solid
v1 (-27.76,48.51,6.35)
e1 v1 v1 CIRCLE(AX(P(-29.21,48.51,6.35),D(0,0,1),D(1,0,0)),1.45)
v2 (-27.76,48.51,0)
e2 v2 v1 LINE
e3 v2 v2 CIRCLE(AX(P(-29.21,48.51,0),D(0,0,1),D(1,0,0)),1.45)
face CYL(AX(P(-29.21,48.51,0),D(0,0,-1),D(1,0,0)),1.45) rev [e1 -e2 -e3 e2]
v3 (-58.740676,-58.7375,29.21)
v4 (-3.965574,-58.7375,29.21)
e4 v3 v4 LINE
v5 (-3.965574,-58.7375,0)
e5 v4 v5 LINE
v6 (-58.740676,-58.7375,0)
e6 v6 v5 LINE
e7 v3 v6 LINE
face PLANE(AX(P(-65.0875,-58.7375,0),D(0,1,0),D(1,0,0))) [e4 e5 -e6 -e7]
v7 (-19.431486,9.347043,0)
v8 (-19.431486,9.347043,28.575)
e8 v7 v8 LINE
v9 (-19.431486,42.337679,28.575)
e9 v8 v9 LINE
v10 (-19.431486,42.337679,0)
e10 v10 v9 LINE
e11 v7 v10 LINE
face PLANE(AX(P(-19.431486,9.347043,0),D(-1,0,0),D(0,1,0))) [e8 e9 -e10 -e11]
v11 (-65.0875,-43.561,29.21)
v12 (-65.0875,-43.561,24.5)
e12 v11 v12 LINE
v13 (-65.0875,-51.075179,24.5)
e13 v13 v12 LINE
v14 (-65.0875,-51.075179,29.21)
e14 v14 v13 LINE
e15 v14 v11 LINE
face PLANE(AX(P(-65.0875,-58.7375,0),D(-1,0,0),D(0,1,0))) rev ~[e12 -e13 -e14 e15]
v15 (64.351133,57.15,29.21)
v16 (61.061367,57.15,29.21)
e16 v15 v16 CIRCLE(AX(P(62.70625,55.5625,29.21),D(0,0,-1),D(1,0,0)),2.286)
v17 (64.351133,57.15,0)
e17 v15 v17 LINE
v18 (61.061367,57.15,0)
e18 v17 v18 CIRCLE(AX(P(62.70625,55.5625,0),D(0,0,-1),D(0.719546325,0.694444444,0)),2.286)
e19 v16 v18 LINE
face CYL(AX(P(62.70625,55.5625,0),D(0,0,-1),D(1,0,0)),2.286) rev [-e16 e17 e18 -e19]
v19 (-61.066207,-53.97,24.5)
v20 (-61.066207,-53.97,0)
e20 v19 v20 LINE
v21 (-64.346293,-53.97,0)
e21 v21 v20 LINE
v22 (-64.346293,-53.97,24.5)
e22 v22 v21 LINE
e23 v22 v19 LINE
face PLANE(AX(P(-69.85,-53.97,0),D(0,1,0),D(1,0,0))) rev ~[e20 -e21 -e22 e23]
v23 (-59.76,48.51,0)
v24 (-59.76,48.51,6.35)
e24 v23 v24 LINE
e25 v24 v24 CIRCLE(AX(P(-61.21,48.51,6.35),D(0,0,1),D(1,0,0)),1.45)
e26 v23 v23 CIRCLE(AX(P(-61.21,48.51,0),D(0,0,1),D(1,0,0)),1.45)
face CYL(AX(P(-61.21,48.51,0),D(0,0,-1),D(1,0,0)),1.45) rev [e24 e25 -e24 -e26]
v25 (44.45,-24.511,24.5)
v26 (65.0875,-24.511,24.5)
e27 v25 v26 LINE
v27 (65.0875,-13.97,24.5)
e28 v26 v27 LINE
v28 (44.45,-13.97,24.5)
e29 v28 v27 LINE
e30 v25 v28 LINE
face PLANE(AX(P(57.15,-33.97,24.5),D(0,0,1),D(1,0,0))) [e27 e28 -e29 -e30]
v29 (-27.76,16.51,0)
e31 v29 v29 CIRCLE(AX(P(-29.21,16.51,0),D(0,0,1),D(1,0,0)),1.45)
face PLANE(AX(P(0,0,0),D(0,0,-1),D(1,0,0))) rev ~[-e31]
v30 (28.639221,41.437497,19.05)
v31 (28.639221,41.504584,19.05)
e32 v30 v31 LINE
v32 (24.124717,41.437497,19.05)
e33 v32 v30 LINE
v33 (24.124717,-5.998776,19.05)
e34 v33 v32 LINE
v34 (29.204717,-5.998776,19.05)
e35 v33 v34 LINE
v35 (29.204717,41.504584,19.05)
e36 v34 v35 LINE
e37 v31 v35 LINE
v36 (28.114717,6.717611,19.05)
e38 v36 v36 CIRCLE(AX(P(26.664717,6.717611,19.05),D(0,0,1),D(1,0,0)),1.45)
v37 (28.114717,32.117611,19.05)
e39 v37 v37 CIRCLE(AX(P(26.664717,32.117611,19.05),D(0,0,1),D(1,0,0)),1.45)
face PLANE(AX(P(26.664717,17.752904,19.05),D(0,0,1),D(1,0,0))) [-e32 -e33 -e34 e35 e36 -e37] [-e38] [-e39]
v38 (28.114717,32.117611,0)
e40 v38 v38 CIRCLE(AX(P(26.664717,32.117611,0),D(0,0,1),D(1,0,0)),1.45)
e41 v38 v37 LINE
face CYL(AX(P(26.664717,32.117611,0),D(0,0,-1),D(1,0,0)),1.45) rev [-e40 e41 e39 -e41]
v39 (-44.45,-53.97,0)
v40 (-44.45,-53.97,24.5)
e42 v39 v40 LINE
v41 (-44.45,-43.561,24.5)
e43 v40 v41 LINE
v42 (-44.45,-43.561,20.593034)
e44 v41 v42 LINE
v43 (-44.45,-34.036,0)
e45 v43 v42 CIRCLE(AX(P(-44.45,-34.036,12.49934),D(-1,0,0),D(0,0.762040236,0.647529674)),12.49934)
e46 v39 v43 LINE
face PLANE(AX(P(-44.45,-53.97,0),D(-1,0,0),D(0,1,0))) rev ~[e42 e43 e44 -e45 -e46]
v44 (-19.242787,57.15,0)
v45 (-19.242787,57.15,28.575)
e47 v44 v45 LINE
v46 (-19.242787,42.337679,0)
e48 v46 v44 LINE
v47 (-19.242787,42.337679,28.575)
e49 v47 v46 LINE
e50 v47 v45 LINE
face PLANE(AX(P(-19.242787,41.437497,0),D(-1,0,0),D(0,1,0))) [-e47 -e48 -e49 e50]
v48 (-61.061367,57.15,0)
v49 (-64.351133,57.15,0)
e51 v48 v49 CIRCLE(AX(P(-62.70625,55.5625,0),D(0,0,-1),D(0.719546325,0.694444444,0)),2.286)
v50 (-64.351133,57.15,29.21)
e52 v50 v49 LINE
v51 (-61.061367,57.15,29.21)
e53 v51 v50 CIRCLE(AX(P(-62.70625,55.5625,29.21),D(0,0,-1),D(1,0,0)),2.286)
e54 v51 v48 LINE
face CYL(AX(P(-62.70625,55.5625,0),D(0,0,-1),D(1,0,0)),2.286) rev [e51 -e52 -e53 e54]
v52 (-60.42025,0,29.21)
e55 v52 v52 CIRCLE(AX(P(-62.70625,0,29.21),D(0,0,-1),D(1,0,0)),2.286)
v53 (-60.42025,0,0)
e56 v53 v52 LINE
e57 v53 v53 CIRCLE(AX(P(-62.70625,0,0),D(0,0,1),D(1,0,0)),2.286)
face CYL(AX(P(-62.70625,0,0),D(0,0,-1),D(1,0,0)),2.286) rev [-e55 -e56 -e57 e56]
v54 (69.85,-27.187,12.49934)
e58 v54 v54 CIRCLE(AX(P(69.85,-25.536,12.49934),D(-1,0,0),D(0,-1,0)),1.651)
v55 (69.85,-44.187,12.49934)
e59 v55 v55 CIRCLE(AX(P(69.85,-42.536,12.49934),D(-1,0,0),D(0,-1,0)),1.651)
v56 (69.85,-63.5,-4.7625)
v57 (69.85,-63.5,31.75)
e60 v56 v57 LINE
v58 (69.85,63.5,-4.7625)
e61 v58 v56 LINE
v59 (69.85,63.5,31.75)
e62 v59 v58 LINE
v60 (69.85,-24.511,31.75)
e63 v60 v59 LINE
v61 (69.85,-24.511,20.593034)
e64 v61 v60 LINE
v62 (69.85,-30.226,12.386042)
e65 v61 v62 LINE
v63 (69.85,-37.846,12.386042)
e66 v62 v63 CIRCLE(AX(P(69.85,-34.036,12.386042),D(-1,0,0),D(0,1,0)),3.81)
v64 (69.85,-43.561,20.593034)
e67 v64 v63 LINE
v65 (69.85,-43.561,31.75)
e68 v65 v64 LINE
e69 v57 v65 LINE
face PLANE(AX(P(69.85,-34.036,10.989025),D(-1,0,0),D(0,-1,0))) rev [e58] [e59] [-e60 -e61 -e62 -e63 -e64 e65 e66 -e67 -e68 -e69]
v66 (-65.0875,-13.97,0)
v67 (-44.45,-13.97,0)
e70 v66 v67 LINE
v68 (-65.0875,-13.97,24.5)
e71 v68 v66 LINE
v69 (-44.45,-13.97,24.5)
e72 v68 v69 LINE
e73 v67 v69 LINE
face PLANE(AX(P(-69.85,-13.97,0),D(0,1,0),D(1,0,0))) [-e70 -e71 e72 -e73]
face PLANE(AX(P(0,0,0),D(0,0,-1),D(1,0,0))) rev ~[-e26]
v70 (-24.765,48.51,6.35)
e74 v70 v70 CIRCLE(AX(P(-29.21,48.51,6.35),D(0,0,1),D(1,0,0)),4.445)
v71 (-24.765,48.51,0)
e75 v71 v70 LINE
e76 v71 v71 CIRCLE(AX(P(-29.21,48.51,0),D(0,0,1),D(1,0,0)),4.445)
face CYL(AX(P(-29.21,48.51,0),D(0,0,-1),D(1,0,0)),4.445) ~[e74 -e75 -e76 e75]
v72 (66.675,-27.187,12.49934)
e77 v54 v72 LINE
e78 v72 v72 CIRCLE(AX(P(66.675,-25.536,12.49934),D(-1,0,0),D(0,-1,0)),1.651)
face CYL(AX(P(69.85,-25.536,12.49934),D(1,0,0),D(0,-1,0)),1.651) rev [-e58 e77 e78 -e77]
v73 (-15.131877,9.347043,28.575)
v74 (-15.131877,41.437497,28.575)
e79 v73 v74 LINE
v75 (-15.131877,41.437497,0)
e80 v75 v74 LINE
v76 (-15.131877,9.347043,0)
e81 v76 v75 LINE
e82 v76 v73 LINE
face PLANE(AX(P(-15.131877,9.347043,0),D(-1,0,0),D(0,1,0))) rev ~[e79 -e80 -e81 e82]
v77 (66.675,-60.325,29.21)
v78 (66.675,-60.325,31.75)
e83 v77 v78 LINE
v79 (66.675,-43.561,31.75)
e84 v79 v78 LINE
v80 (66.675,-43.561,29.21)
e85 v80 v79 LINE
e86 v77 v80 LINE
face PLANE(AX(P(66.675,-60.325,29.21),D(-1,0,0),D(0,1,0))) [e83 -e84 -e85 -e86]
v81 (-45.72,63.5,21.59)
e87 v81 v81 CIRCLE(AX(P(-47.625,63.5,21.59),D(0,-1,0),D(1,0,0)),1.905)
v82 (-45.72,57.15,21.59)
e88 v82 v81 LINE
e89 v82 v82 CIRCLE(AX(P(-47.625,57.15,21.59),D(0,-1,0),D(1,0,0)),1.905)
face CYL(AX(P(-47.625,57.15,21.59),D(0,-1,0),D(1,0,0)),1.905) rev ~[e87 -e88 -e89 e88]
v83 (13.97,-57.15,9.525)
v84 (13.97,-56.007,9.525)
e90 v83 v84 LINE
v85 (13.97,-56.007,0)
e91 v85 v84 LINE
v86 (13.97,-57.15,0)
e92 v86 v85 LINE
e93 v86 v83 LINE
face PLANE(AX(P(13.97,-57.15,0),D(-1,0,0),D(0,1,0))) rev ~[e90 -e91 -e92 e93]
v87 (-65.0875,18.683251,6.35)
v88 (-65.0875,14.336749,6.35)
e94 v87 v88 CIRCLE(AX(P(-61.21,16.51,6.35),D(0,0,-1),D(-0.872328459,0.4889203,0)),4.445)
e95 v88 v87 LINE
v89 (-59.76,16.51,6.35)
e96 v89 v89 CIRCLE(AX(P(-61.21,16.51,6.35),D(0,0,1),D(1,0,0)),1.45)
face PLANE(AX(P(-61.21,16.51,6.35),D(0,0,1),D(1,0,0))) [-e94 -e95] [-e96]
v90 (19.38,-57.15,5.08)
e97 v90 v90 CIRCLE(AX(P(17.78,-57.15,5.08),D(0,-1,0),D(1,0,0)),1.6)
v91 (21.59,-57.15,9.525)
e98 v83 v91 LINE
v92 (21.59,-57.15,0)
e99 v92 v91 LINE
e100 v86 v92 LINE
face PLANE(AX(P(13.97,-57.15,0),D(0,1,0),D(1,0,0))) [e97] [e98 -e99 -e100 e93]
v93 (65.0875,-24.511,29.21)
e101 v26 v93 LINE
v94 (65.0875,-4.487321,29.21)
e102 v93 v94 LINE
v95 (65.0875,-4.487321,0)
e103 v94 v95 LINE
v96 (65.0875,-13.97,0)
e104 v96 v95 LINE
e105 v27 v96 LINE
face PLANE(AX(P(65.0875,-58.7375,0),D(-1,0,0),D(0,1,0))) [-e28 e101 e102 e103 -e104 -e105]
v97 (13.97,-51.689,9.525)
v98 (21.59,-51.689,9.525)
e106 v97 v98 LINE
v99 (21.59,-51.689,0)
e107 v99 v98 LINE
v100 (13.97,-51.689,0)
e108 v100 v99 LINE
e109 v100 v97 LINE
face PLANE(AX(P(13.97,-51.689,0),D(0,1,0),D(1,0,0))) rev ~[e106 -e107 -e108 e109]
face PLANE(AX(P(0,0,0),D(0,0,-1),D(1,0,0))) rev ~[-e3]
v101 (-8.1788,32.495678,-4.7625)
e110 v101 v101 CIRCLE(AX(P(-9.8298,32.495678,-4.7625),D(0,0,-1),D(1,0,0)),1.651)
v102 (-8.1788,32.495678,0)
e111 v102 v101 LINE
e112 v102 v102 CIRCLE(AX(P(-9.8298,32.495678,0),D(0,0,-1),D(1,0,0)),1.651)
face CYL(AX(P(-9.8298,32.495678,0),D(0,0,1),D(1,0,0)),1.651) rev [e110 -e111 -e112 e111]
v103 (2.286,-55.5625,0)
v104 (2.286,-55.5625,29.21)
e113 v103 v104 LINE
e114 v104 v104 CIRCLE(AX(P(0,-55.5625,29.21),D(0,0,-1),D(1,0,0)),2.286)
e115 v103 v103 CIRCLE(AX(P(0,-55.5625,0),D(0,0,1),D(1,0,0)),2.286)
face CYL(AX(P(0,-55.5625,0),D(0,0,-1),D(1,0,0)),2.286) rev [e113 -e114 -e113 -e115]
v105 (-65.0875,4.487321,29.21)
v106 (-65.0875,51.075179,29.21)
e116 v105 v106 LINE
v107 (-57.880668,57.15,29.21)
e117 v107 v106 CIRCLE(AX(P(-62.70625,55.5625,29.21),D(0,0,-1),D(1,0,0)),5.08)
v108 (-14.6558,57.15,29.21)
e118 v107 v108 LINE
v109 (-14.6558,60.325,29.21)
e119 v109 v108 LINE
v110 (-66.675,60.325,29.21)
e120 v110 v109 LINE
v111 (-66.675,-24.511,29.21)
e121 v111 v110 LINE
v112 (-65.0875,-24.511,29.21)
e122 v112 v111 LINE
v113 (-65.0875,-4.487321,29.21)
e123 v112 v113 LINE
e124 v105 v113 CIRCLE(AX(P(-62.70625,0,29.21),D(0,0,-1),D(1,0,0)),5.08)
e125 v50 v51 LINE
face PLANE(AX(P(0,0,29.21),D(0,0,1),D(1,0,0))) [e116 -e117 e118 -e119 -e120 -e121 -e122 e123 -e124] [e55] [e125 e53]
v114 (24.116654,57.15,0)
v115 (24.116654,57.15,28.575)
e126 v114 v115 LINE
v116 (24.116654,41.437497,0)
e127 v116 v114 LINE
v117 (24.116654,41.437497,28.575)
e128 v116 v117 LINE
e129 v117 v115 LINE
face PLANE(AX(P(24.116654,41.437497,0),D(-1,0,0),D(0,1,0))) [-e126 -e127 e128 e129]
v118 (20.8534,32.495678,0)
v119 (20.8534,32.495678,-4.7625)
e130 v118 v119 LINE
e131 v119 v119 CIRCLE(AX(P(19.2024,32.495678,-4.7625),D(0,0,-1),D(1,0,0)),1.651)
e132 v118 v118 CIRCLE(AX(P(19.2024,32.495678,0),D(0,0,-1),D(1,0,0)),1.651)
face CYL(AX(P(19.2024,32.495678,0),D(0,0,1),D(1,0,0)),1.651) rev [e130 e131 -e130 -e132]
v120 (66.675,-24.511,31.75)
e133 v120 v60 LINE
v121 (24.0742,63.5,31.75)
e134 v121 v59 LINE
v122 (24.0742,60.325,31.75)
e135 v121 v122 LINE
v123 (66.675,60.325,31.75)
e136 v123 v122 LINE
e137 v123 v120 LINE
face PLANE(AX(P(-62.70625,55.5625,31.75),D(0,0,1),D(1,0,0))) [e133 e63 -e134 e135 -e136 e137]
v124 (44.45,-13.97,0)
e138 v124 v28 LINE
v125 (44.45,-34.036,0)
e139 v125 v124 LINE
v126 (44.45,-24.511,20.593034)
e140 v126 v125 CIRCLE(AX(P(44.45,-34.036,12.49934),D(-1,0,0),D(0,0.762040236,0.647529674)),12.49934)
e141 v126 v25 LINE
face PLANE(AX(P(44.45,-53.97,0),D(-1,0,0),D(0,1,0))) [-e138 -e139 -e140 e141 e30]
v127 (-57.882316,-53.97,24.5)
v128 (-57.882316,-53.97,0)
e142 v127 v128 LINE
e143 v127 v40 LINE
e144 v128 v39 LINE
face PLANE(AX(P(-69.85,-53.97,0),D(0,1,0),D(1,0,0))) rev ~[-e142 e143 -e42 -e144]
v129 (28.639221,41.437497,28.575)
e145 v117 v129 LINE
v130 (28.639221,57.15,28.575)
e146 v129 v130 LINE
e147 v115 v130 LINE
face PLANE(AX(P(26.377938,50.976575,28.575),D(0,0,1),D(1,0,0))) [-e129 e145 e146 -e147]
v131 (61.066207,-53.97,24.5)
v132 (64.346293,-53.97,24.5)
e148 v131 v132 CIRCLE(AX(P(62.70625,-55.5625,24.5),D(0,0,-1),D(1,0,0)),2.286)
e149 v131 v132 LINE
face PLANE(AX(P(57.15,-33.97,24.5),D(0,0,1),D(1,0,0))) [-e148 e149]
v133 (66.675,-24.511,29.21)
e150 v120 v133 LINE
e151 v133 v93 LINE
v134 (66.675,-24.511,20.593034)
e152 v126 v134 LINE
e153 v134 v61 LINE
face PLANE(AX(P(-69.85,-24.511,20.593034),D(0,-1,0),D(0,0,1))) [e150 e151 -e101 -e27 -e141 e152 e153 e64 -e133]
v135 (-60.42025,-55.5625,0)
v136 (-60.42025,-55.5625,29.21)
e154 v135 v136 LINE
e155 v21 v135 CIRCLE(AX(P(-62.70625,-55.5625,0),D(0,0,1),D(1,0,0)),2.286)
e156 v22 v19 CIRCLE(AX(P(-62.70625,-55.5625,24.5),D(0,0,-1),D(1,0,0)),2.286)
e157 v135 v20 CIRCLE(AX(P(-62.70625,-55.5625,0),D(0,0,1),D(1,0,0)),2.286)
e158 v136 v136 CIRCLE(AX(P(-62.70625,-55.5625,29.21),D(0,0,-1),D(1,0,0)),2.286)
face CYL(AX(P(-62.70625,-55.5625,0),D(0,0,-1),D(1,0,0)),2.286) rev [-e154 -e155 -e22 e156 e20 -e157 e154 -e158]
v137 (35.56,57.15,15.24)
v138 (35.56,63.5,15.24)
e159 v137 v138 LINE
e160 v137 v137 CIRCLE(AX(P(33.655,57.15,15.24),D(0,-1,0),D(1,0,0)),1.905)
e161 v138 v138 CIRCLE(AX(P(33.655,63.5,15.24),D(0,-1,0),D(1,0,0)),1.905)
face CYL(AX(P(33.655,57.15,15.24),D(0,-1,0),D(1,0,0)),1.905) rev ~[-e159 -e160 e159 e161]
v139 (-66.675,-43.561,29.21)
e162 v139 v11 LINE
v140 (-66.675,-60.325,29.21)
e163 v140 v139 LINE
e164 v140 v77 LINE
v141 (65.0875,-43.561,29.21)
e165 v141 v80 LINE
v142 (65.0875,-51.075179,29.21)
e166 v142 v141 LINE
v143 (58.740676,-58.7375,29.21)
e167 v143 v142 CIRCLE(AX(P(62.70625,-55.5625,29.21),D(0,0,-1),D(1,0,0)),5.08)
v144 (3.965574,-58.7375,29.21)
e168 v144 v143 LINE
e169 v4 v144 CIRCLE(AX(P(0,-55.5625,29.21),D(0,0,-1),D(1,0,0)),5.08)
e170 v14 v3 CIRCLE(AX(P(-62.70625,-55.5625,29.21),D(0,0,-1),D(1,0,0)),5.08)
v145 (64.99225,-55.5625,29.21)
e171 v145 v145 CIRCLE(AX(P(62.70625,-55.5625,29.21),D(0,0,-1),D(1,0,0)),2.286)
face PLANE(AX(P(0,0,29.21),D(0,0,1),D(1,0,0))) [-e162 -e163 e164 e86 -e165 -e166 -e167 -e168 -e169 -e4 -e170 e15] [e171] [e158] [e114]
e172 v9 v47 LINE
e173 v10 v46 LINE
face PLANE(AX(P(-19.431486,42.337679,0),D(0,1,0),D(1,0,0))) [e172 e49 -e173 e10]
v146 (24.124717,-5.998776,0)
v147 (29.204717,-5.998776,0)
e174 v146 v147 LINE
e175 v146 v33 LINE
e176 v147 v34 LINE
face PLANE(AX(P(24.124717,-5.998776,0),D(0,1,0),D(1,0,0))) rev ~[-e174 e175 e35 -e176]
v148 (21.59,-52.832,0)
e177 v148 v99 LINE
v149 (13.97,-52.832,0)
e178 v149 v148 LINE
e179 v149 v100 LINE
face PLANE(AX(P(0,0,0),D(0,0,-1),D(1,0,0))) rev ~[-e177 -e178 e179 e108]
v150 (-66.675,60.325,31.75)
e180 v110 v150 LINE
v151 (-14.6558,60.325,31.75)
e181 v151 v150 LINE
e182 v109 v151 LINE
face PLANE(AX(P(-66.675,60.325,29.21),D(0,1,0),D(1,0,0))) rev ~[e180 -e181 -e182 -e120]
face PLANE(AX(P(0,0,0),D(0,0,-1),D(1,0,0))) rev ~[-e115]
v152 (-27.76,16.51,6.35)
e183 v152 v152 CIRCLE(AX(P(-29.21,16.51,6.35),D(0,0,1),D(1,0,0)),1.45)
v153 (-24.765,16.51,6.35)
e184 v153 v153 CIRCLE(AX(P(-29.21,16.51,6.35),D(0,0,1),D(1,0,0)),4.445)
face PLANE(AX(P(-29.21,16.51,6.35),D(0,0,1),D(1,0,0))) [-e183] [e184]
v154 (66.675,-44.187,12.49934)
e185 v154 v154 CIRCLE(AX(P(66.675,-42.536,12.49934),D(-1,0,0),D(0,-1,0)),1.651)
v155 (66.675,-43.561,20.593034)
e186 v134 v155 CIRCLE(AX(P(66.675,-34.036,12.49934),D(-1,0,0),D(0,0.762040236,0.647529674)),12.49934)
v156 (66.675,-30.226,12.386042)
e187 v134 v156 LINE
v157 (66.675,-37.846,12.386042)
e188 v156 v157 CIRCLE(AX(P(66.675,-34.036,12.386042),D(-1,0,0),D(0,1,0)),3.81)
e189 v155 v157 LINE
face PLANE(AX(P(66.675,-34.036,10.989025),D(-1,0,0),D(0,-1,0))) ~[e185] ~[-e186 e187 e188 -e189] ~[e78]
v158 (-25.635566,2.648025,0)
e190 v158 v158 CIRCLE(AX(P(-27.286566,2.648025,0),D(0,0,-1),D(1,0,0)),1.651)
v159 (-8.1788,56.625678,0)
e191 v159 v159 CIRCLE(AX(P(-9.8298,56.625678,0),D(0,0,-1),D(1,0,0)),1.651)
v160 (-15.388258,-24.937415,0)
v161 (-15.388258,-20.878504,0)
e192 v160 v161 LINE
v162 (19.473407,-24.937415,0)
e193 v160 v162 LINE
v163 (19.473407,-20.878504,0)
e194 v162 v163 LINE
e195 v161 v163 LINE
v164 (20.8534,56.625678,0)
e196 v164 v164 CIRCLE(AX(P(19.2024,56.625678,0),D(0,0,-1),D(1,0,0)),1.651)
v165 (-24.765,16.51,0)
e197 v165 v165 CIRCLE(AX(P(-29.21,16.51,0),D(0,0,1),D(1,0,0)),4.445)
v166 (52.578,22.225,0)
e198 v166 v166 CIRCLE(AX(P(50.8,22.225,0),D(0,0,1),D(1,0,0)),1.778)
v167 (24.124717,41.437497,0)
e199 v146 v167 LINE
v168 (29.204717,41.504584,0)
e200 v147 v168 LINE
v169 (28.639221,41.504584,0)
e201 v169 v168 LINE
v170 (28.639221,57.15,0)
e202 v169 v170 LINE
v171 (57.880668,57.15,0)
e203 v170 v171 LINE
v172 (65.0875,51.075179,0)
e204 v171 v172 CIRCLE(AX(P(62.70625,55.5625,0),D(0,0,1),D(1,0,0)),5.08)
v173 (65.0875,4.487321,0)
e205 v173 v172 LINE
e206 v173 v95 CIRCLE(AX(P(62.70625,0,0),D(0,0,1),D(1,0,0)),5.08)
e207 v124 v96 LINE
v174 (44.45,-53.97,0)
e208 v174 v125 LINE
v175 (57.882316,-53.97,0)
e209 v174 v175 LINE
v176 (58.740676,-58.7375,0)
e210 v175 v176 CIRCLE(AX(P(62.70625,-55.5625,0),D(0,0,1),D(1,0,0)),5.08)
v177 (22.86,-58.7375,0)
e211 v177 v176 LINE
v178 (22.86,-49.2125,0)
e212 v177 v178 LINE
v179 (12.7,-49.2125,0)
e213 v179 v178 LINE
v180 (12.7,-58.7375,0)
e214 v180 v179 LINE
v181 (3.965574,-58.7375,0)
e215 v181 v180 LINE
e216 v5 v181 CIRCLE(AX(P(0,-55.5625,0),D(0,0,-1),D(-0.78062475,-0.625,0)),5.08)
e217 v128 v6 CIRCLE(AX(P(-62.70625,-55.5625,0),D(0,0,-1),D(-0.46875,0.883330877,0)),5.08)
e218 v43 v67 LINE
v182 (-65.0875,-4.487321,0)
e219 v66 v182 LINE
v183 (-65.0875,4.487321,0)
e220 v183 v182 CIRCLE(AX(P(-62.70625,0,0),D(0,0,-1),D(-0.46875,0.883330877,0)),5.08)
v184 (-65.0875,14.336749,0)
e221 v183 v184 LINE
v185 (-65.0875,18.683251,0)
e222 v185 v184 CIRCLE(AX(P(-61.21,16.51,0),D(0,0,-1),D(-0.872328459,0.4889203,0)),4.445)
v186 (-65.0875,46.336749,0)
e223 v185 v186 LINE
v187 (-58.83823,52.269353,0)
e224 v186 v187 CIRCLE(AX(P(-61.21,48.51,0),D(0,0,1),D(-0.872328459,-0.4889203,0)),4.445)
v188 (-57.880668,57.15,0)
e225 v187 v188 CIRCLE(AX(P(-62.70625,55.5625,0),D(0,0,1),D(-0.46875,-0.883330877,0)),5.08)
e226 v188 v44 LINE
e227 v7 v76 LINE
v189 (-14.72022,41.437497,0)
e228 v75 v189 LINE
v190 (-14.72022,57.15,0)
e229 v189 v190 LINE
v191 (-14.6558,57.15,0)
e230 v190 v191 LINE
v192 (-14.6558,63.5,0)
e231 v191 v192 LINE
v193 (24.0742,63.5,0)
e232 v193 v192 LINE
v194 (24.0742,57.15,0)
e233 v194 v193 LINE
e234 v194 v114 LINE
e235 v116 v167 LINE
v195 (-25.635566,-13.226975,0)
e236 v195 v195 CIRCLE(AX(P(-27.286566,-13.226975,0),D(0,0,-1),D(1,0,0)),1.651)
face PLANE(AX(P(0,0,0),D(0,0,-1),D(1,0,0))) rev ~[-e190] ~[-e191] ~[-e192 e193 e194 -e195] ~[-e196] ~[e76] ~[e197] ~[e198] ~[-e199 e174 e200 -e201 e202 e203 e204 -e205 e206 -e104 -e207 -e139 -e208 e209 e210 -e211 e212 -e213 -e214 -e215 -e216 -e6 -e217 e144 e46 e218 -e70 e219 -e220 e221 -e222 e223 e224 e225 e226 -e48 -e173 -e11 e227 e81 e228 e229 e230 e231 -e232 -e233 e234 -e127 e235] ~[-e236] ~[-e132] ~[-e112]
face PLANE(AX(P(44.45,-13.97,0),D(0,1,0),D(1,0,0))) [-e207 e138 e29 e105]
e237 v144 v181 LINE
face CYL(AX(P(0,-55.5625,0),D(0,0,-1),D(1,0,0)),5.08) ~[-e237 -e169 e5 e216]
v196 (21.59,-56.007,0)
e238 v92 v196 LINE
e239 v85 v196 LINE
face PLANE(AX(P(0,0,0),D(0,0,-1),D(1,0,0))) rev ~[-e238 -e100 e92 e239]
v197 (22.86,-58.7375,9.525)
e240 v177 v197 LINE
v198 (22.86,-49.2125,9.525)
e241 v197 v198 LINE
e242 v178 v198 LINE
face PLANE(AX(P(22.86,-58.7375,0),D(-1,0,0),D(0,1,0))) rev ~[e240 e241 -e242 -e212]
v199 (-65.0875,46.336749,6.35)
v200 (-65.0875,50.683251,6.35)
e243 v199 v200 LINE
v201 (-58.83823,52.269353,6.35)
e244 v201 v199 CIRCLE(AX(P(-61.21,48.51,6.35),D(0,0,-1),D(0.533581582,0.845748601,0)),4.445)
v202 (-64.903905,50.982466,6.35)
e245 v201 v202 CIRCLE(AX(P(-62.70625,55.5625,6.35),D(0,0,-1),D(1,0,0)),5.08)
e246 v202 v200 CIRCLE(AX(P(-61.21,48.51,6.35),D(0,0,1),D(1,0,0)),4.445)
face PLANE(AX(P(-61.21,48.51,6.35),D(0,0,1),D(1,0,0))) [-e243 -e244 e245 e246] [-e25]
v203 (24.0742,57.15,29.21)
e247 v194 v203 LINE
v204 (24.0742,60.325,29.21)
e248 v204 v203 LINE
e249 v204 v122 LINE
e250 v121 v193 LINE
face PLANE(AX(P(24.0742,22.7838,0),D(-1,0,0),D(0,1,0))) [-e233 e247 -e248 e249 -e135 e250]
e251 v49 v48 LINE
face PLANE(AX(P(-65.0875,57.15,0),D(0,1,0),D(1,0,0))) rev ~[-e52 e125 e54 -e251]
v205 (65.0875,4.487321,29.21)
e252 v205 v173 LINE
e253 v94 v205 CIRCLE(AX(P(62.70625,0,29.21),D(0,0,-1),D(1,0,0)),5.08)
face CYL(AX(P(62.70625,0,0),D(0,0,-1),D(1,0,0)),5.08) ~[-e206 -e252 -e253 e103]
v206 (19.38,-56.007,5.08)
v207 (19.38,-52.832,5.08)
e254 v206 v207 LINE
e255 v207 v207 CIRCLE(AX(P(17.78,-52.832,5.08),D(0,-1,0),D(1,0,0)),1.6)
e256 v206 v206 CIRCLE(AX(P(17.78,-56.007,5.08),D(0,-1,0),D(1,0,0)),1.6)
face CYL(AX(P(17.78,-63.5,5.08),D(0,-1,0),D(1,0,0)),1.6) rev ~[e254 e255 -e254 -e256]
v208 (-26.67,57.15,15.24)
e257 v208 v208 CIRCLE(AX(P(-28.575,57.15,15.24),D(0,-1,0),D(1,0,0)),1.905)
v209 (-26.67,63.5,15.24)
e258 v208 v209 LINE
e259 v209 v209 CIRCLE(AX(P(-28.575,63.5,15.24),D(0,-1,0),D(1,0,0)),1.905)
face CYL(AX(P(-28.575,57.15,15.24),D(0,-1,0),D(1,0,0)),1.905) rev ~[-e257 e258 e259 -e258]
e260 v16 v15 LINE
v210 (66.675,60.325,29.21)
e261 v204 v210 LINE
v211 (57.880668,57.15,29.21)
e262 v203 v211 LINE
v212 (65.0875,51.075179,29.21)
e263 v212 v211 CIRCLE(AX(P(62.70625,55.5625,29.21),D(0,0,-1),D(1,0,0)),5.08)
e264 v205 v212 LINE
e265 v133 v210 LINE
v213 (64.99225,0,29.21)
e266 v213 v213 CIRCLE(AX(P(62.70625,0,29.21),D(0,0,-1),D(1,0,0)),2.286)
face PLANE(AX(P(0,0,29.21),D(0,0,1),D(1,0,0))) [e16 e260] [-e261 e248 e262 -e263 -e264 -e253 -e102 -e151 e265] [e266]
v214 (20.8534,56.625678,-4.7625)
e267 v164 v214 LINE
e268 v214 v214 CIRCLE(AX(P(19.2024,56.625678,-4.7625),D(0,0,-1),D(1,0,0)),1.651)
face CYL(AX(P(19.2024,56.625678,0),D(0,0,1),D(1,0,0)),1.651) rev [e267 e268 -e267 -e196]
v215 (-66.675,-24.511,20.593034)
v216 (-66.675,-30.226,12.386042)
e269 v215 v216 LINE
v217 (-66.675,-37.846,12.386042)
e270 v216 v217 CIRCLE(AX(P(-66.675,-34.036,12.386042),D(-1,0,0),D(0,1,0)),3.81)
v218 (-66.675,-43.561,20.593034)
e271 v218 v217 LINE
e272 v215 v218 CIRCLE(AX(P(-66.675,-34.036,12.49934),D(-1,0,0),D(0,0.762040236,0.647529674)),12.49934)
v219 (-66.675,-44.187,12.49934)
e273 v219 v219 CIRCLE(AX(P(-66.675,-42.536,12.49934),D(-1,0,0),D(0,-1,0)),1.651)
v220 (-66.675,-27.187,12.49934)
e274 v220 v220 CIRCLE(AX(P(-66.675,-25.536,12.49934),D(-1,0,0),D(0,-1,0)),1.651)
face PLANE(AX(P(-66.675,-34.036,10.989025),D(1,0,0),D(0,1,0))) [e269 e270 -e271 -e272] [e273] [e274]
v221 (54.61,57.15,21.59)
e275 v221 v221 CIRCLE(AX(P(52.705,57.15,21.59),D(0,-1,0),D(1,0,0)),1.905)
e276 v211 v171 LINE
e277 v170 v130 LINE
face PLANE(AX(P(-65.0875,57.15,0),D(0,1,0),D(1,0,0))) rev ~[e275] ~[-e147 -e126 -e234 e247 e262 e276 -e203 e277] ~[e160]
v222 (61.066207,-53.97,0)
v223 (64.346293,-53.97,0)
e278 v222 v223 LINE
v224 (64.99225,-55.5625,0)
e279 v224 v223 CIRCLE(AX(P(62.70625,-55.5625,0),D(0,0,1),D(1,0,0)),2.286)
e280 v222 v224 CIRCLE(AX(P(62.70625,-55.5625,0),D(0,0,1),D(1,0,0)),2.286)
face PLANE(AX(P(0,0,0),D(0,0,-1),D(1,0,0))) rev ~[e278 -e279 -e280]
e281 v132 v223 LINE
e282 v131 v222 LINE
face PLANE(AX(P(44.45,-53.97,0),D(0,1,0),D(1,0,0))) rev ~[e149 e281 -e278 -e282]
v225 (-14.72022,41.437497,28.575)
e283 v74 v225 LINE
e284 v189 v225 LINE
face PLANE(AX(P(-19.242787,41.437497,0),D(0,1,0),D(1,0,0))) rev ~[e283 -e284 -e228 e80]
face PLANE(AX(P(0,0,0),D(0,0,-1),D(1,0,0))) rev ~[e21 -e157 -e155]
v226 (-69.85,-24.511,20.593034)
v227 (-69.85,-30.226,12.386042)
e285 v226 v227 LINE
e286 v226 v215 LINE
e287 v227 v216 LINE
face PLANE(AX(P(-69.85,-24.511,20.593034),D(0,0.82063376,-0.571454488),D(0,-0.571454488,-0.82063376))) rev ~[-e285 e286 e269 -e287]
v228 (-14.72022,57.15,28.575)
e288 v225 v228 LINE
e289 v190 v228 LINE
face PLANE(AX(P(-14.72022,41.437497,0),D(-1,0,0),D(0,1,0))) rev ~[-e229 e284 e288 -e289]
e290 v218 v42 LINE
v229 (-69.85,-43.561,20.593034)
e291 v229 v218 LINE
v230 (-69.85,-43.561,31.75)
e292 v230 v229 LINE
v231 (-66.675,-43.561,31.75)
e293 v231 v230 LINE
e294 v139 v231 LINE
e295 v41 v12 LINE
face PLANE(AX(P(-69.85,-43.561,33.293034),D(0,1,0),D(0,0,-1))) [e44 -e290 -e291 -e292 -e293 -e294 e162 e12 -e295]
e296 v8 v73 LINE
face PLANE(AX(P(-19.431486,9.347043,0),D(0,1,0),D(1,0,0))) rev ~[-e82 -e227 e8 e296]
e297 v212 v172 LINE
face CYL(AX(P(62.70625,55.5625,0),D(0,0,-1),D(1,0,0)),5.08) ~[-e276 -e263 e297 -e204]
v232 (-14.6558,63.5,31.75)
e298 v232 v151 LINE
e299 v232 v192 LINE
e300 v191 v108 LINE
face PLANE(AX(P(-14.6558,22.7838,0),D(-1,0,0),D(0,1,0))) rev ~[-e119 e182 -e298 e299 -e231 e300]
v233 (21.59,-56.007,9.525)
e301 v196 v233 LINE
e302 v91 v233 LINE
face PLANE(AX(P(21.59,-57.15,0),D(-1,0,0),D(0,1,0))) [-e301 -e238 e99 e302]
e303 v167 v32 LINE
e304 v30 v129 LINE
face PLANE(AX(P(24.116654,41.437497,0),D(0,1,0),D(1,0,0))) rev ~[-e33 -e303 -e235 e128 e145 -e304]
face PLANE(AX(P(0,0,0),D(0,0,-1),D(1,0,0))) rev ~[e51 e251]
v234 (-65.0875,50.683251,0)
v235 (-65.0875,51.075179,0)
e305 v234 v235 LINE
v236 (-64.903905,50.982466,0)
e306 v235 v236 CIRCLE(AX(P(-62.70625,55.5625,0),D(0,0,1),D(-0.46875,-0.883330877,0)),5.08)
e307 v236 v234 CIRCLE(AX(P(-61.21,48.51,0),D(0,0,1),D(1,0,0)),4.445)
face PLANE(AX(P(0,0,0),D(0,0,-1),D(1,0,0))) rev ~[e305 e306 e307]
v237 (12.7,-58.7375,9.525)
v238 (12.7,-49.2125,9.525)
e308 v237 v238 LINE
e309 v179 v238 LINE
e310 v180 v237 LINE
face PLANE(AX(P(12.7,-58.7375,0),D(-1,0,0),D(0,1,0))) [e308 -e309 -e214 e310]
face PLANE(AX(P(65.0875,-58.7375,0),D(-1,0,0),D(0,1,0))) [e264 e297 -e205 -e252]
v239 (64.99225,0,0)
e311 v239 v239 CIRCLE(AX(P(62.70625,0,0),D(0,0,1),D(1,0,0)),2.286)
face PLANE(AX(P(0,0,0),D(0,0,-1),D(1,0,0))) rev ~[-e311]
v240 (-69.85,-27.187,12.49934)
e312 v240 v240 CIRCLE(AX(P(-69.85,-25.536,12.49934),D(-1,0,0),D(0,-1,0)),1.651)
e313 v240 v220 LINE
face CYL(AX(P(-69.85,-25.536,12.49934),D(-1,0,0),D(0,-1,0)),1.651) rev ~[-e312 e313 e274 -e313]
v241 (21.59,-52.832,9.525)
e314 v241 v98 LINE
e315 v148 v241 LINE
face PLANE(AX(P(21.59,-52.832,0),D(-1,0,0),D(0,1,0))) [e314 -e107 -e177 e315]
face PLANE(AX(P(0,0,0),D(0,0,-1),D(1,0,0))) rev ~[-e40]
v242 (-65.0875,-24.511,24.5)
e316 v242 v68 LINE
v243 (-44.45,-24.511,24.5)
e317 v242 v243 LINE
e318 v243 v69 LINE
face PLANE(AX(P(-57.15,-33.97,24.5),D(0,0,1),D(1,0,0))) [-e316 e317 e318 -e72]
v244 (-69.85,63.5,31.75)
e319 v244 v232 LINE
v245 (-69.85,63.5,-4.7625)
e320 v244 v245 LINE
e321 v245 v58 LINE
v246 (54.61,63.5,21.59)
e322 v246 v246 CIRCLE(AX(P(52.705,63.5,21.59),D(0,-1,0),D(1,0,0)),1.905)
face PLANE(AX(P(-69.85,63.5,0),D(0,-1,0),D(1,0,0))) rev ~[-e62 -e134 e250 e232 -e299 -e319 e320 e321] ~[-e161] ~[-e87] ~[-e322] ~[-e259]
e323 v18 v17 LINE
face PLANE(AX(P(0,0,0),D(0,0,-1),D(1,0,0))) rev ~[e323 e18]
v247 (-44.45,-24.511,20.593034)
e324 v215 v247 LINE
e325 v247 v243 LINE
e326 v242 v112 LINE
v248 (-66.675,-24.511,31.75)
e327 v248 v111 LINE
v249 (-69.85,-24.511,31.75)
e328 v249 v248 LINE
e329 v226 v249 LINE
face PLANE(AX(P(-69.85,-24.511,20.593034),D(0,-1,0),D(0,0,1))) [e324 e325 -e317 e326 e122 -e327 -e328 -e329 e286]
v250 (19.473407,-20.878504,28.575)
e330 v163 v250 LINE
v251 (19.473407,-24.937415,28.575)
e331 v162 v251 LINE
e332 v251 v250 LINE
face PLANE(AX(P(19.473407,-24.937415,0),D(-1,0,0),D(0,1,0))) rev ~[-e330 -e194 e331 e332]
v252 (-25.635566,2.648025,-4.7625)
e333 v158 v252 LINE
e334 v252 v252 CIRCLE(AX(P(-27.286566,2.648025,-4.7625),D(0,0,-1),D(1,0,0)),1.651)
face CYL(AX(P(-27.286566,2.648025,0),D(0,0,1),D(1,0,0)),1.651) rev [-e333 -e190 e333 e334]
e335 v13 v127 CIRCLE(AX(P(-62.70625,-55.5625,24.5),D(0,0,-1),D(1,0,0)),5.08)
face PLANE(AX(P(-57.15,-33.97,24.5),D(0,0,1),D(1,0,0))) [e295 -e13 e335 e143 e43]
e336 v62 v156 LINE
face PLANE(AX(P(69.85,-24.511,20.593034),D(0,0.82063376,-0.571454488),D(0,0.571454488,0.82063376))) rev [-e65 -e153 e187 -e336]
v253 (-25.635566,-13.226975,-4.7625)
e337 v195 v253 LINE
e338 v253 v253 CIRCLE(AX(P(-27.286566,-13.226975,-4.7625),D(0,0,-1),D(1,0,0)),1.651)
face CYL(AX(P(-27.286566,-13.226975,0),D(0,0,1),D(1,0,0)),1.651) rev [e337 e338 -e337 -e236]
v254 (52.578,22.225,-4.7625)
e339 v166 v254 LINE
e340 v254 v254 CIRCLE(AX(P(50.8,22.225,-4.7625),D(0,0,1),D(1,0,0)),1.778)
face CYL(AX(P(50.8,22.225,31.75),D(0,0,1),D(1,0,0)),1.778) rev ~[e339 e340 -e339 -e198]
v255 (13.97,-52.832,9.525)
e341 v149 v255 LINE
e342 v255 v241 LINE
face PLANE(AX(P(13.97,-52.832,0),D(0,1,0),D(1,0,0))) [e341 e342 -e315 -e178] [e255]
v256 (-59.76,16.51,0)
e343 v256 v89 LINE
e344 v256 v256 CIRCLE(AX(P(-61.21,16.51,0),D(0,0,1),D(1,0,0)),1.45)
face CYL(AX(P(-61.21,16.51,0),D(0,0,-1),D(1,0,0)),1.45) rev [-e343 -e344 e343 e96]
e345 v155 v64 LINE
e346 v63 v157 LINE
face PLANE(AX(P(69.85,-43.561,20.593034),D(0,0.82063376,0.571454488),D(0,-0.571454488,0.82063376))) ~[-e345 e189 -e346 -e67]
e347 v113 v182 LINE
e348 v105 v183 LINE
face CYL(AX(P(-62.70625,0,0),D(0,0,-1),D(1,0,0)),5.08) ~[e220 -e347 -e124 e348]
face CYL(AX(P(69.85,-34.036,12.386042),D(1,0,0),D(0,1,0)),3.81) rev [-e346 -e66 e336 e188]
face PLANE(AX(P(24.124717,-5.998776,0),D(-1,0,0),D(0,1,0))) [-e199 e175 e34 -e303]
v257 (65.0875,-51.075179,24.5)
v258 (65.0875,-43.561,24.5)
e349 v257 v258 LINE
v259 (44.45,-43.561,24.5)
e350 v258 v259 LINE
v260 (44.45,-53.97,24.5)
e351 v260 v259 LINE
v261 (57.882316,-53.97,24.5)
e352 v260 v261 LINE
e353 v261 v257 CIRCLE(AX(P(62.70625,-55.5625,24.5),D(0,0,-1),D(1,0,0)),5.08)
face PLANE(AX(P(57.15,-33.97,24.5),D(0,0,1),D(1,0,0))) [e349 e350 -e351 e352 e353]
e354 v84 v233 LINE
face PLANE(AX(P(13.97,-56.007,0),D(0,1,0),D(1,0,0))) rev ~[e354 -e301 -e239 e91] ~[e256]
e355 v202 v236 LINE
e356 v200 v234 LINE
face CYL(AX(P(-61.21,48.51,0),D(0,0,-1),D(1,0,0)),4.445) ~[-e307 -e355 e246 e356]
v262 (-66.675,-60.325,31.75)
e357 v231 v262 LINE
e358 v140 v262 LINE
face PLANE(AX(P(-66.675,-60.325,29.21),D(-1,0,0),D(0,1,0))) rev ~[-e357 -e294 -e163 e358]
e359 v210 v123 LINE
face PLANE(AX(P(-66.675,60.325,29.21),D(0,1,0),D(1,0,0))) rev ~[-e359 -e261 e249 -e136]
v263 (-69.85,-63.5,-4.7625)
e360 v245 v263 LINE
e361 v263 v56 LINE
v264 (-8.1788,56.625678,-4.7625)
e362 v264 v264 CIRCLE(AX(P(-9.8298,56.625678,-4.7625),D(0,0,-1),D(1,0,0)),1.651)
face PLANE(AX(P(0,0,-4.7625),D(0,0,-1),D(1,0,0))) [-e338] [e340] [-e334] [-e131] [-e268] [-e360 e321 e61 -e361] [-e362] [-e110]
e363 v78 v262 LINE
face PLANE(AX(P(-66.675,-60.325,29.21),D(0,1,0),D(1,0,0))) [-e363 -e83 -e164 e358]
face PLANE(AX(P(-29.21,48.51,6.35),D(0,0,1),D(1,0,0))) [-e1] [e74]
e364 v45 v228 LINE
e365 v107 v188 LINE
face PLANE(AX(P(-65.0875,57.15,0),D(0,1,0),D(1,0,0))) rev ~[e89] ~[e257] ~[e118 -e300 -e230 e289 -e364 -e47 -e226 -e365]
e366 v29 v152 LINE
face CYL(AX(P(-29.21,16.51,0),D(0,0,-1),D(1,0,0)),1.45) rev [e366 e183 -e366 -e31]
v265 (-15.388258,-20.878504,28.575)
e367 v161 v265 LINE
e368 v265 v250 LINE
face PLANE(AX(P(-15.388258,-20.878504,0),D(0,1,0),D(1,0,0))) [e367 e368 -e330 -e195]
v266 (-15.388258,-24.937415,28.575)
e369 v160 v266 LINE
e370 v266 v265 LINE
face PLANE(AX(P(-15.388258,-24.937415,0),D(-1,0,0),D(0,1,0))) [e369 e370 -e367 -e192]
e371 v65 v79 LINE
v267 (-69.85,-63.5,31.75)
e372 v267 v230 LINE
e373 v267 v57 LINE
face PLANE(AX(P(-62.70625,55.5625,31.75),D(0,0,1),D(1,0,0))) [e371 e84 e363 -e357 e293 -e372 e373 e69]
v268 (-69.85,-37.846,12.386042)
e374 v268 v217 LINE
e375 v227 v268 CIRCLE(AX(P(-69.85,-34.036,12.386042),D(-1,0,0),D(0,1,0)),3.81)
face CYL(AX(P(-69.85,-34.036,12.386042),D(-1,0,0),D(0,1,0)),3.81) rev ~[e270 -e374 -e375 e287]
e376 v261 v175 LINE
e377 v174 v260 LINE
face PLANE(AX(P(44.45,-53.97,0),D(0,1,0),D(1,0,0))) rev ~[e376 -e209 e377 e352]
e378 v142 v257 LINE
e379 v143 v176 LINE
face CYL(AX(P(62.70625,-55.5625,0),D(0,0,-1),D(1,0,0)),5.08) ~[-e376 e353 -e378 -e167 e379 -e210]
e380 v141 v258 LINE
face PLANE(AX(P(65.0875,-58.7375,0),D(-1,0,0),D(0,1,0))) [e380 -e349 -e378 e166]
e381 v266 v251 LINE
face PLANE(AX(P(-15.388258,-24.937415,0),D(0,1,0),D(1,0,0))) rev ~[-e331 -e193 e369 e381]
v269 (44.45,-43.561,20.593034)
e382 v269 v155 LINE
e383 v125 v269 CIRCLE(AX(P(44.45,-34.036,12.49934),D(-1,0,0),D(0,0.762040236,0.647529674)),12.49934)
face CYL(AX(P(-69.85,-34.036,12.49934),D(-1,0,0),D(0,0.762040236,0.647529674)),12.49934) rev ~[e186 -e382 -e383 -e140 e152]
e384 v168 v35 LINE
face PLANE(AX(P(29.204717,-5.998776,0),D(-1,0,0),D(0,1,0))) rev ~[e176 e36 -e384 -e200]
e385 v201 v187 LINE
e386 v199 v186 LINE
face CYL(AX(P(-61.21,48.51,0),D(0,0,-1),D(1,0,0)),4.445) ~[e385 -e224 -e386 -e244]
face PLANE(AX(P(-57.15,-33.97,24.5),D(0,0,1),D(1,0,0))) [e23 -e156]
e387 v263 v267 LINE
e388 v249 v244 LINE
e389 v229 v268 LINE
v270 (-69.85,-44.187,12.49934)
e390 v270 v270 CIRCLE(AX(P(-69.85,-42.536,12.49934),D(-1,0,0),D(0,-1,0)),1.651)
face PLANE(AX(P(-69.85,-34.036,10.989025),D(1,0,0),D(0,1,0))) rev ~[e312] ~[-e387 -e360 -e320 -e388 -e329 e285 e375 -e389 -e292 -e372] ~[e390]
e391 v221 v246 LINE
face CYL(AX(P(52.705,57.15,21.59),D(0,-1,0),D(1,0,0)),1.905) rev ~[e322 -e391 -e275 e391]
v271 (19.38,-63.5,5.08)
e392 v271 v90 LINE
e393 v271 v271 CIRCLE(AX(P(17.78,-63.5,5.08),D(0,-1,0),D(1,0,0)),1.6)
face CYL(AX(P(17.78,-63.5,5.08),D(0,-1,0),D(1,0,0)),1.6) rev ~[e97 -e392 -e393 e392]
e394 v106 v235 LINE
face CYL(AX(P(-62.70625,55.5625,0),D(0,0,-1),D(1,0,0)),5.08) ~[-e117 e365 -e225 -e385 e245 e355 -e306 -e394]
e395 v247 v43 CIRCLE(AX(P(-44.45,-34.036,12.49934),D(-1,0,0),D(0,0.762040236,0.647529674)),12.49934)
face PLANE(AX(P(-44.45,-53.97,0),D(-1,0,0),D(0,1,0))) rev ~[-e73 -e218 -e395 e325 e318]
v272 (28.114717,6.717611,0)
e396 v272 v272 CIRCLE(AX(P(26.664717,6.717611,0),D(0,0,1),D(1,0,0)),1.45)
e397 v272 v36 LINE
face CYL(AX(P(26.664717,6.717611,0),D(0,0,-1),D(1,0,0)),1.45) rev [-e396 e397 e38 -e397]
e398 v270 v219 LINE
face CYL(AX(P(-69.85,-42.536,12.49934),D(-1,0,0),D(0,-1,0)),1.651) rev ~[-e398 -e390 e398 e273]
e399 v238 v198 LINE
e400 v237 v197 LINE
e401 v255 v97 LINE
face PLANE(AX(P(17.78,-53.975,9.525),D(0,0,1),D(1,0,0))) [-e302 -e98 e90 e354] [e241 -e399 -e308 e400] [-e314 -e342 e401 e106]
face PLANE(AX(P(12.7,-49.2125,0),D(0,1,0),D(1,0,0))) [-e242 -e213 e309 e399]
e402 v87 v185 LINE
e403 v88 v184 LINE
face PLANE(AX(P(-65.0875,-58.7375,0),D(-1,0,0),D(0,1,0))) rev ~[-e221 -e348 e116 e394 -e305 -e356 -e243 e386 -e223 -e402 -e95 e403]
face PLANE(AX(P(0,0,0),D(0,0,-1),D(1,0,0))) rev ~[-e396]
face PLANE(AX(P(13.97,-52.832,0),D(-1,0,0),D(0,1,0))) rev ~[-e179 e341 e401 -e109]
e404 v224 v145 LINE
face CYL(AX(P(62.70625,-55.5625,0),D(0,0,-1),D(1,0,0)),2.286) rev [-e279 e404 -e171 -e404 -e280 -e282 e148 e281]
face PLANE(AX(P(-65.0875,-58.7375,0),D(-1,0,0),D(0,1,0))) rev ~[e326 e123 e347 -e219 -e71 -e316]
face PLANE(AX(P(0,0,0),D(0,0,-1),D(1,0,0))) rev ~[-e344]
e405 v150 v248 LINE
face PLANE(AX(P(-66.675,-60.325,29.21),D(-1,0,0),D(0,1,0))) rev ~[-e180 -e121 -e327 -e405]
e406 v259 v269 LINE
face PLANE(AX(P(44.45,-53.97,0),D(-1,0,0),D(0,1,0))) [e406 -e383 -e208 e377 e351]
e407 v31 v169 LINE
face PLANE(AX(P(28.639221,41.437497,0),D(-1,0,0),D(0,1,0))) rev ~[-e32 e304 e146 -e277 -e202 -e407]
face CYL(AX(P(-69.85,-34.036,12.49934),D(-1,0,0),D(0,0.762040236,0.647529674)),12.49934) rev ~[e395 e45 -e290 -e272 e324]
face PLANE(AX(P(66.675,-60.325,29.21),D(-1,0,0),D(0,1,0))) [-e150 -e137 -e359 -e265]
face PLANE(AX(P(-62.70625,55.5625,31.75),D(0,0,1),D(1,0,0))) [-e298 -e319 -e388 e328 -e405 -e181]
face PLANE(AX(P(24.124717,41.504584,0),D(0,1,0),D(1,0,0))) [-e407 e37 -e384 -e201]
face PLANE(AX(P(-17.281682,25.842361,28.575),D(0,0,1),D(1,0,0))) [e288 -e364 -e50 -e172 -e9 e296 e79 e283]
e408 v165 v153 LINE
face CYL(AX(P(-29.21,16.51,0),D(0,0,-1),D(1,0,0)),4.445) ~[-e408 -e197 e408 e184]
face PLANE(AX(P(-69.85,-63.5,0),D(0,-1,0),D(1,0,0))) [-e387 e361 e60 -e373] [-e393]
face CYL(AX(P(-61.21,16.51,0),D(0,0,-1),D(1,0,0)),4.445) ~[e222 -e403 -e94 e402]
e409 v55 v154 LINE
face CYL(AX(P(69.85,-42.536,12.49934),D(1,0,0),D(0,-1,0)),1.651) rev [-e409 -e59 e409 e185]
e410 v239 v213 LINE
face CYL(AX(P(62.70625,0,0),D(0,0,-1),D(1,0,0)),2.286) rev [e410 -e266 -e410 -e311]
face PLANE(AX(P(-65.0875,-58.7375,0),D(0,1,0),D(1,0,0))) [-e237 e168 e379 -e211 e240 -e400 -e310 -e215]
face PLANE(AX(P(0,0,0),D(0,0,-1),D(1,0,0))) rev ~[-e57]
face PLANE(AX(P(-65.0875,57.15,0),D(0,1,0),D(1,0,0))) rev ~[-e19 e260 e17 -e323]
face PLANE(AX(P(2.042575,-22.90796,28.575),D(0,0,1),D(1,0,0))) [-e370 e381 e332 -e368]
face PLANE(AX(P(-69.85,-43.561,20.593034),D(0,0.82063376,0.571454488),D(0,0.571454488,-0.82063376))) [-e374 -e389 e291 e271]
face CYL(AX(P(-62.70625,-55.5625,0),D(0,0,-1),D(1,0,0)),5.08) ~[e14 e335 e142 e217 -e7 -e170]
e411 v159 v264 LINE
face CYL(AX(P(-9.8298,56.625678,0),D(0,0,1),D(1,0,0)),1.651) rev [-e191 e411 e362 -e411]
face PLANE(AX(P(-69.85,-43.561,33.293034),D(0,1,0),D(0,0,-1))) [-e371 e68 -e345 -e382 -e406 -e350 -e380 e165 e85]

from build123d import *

# Parameters (mm, degrees)
BOX001_W        = 38.73
BOX001_H        = 53.34
BOX001_DEPTH    = 50.8
SKETCH_W        = 139.7
SKETCH_H        = 127
SKETCH_W_2      = 130.175
SKETCH_H_2      = 115.8875
PAD_DEPTH       = 31.75
SKETCH001_W     = 139.7
SKETCH001_H     = 127
SKETCH001_R     = 1.651
PAD001_DEPTH    = 4.7625
SKETCH002_R     = 5.08
SKETCH002_R_2   = 2.286
PAD002_DEPTH    = 31.75
SKETCH003_W     = 25.4
SKETCH003_H     = 40
PAD003_DEPTH    = 24.5
POCKET_DEPTH    = 139.701
SKETCH007_R     = 4.445
SKETCH007_R_2   = 1.45
PAD006_DEPTH    = 6.35
SKETCH014_R     = 1.905
POCKET004_DEPTH = 6.351
SKETCH015_W     = 133.35
SKETCH015_H     = 120.65
POCKET005_DEPTH = 6.35
SKETCH016_R     = 1.651
PAD010_DEPTH    = 3.175
SKETCH060_W     = 10.16
SKETCH060_H     = 9.525
SKETCH060_W_2   = 7.62
SKETCH060_H_2   = 1.143
PAD028_DEPTH    = 9.525
SKETCH061_R     = 1.6
POCKET028_DEPTH = 11.43
SKETCH071_W     = 4.522567
SKETCH071_H     = 19.0781560115
PAD033_DEPTH    = 28.575
SKETCH072_R     = 1.778
POCKET034_DEPTH = 76.2
SKETCH074_W     = 4.299609
SKETCH074_H     = 32.990636
SKETCH074_W_2   = 34.861665
SKETCH074_H_2   = 4.058911
PAD034_DEPTH    = 28.575
SKETCH089_W     = 5.08
SKETCH089_H     = 47.5033603219
SKETCH089_R     = 1.45
PAD041_DEPTH    = 19.05


with BuildPart() as front_removal:
    # Box001 → Box001 (new body)
    with BuildSketch(Plane(origin=(-14.6558, 22.7838, 0), x_dir=(1, 0, 0), z_dir=(0, 0, 1))):
        with Locations((19.365, 26.67)):
            Rectangle(BOX001_W, BOX001_H)
    extrude(amount=BOX001_DEPTH)


with BuildPart() as main_body:
    # Sketch → Pad (new body)
    with BuildSketch(Plane.XY):
        Rectangle(SKETCH_W, SKETCH_H)
        with Locations((0, -0.79375)):
            Rectangle(SKETCH_W_2, SKETCH_H_2, mode=Mode.SUBTRACT)
    extrude(amount=PAD_DEPTH)

    # Sketch001 (on Face9 of Pad) → Pad001 (join)
    with BuildSketch(Plane(origin=(0, 0, 0), x_dir=(1, 0, 0), z_dir=(0, 0, -1))):
        Rectangle(SKETCH001_W, SKETCH001_H)
        with Locations((-27.286566, 13.226975)):
            Circle(SKETCH001_R, mode=Mode.SUBTRACT)
        with Locations((-27.286566, -2.648025)):
            Circle(SKETCH001_R, mode=Mode.SUBTRACT)
        with Locations((-9.8298, -32.495678)):
            Circle(SKETCH001_R, mode=Mode.SUBTRACT)
        with Locations((19.2024, -32.495678)):
            Circle(SKETCH001_R, mode=Mode.SUBTRACT)
        with Locations((19.2024, -56.625678)):
            Circle(SKETCH001_R, mode=Mode.SUBTRACT)
        with Locations((-9.8298, -56.625678)):
            Circle(SKETCH001_R, mode=Mode.SUBTRACT)
    extrude(amount=PAD001_DEPTH)

    # Sketch002 (on Face21 of Pad001) → Pad002 (join)
    with BuildSketch(Plane.XY):
        with Locations((-62.70625, 55.5625)):
            Circle(SKETCH002_R)
        with Locations((-62.70625, 55.5625)):
            Circle(SKETCH002_R_2, mode=Mode.SUBTRACT)
        with Locations((0, 55.5625)):
            Circle(SKETCH002_R)
        with Locations((0, 55.5625)):
            Circle(SKETCH002_R_2, mode=Mode.SUBTRACT)
        with Locations((62.70625, 55.5625)):
            Circle(SKETCH002_R)
        with Locations((62.70625, 55.5625)):
            Circle(SKETCH002_R_2, mode=Mode.SUBTRACT)
        with Locations((62.70625, 0)):
            Circle(SKETCH002_R)
        with Locations((62.70625, 0)):
            Circle(SKETCH002_R_2, mode=Mode.SUBTRACT)
        with Locations((62.70625, -55.5625)):
            Circle(SKETCH002_R)
        with Locations((62.70625, -55.5625)):
            Circle(SKETCH002_R_2, mode=Mode.SUBTRACT)
        with Locations((0, -55.5625)):
            Circle(SKETCH002_R)
        with Locations((0, -55.5625)):
            Circle(SKETCH002_R_2, mode=Mode.SUBTRACT)
        with Locations((-62.70625, -55.5625)):
            Circle(SKETCH002_R)
        with Locations((-62.70625, -55.5625)):
            Circle(SKETCH002_R_2, mode=Mode.SUBTRACT)
        with Locations((-62.70625, 0)):
            Circle(SKETCH002_R)
        with Locations((-62.70625, 0)):
            Circle(SKETCH002_R_2, mode=Mode.SUBTRACT)
    extrude(amount=PAD002_DEPTH)

    # Sketch003 (on Face33 of Pad002) → Pad003 (join)
    with BuildSketch(Plane.XY):
        with Locations((-57.15, -33.97)):
            Rectangle(SKETCH003_W, SKETCH003_H)
        with Locations((57.15, -33.97)):
            Rectangle(SKETCH003_W, SKETCH003_H)
    extrude(amount=PAD003_DEPTH)

    # Sketch004 (on Face7 of Pad003) → Pocket (cut, through all)
    with BuildSketch(Plane(origin=(-69.85, 0, 0), x_dir=(0, -1, 0), z_dir=(-1, 0, 0))):
        with BuildLine():
            ThreePointArc((24.511, 20.5930335595), (34.036, 0), (43.561, 20.5930335595))
            Line((43.561, 33.2930335595), (43.561, 20.5930335595))
            Line((24.511, 33.2930335595), (43.561, 33.2930335595))
            Line((24.511, 20.5930335595), (24.511, 33.2930335595))
        make_face()
    extrude(amount=-POCKET_DEPTH, mode=Mode.SUBTRACT)

    # Sketch007 → Pad006 (join)
    with BuildSketch(Plane(origin=(-34.29, 25.4, 0), x_dir=(1, 0, 0), z_dir=(0, 0, 1))):
        with Locations((5.08, 23.11)):
            Circle(SKETCH007_R)
        with Locations((5.08, 23.11)):
            Circle(SKETCH007_R_2, mode=Mode.SUBTRACT)
        with Locations((-26.92, 23.11)):
            Circle(SKETCH007_R)
        with Locations((-26.92, 23.11)):
            Circle(SKETCH007_R_2, mode=Mode.SUBTRACT)
        with Locations((-26.92, -8.89)):
            Circle(SKETCH007_R)
        with Locations((-26.92, -8.89)):
            Circle(SKETCH007_R_2, mode=Mode.SUBTRACT)
        with Locations((5.08, -8.89)):
            Circle(SKETCH007_R)
        with Locations((5.08, -8.89)):
            Circle(SKETCH007_R_2, mode=Mode.SUBTRACT)
    extrude(amount=PAD006_DEPTH)

    # Sketch014 (on Face19 of Pad006) → Pocket004 (cut, through all)
    with BuildSketch(Plane.XZ.offset(-57.15)):
        with Locations((-47.625, 21.59)):
            Circle(SKETCH014_R)
        with Locations((-28.575, 15.24)):
            Circle(SKETCH014_R)
        with Locations((33.655, 15.24)):
            Circle(SKETCH014_R)
        with Locations((52.705, 21.59)):
            Circle(SKETCH014_R)
    extrude(amount=-POCKET004_DEPTH, mode=Mode.SUBTRACT)

    # Sketch015 → Pocket005 (cut)
    with BuildSketch(Plane.XY.offset(29.21)):
        Rectangle(SKETCH015_W, SKETCH015_H)
    extrude(amount=POCKET005_DEPTH, mode=Mode.SUBTRACT)

    # Sketch016 (on Face11 of Pocket005) → Pad010 (join)
    with BuildSketch(Plane(origin=(-69.85, 0, 0), x_dir=(0, -1, 0), z_dir=(-1, 0, 0))):
        with BuildLine():
            ThreePointArc((30.226, 12.3860423935), (34.036, 8.5760423935), (37.846, 12.3860423935))
            Line((43.561, 20.5930335595), (37.846, 12.3860423935))
            ThreePointArc((24.511, 20.5930335595), (34.036, -0.1869576065), (43.561, 20.5930335595))
            Line((24.511, 20.5930335595), (30.226, 12.3860423935))
        make_face()
        with Locations((25.536, 12.49934)):
            Circle(SKETCH016_R, mode=Mode.SUBTRACT)
        with Locations((42.536, 12.49934)):
            Circle(SKETCH016_R, mode=Mode.SUBTRACT)
    pad010 = extrude(amount=-PAD010_DEPTH)

    # Mirrored: Pad010 across YZ
    add(pad010.mirror(Plane.YZ))

    # Sketch060 (on Face81 of Pocket005) → Pad028 (join)
    with BuildSketch(Plane.XY):
        with Locations((17.78, -53.975)):
            Rectangle(SKETCH060_W, SKETCH060_H)
        with Locations((17.78, -52.2605)):
            Rectangle(SKETCH060_W_2, SKETCH060_H_2, mode=Mode.SUBTRACT)
        with Locations((17.78, -56.5785)):
            Rectangle(SKETCH060_W_2, SKETCH060_H_2, mode=Mode.SUBTRACT)
    extrude(amount=PAD028_DEPTH)

    # Sketch061 (on Face86 of Pad028) → Pocket028 (cut)
    with BuildSketch(Plane.XZ.offset(63.5)):
        with Locations((17.78, 5.08)):
            Circle(SKETCH061_R)
    extrude(amount=-POCKET028_DEPTH, mode=Mode.SUBTRACT)

    # Sketch071 (on Face21 of Pad001) → Pad033 (join)
    with BuildSketch(Plane.XY):
        with Locations((-16.9815035, 50.9765749943)):
            Rectangle(SKETCH071_W, SKETCH071_H)
        with Locations((26.3779375001, 50.9765749943)):
            Rectangle(SKETCH071_W, SKETCH071_H)
    extrude(amount=PAD033_DEPTH)

    # Sketch072 (on Face127 of Pad033) → Pocket034 (cut)
    with BuildSketch(Plane.XY.offset(31.75)):
        with Locations((50.8, 22.225)):
            Circle(SKETCH072_R)
    extrude(amount=-POCKET034_DEPTH, mode=Mode.SUBTRACT)

    # Sketch074 (on Face56 of Pocket034) → Pad034 (join)
    with BuildSketch(Plane.XY):
        with Locations((-17.2816815, 25.842361)):
            Rectangle(SKETCH074_W, SKETCH074_H)
        with Locations((2.0425745, -22.9079595)):
            Rectangle(SKETCH074_W_2, SKETCH074_H_2)
    extrude(amount=PAD034_DEPTH)

    # Sketch089 (on Face56 of Pad034) → Pad041 (join)
    with BuildSketch(Plane.XY):
        with Locations((26.6647168511, 17.7529041609)):
            Rectangle(SKETCH089_W, SKETCH089_H)
        with Locations((26.6647168511, 32.117611)):
            Circle(SKETCH089_R, mode=Mode.SUBTRACT)
        with Locations((26.6647168511, 6.717611)):
            Circle(SKETCH089_R, mode=Mode.SUBTRACT)
    extrude(amount=PAD041_DEPTH)

    # Cut001: cut front-removal
    add(front_removal.part, mode=Mode.SUBTRACT)


solid = main_body.part
